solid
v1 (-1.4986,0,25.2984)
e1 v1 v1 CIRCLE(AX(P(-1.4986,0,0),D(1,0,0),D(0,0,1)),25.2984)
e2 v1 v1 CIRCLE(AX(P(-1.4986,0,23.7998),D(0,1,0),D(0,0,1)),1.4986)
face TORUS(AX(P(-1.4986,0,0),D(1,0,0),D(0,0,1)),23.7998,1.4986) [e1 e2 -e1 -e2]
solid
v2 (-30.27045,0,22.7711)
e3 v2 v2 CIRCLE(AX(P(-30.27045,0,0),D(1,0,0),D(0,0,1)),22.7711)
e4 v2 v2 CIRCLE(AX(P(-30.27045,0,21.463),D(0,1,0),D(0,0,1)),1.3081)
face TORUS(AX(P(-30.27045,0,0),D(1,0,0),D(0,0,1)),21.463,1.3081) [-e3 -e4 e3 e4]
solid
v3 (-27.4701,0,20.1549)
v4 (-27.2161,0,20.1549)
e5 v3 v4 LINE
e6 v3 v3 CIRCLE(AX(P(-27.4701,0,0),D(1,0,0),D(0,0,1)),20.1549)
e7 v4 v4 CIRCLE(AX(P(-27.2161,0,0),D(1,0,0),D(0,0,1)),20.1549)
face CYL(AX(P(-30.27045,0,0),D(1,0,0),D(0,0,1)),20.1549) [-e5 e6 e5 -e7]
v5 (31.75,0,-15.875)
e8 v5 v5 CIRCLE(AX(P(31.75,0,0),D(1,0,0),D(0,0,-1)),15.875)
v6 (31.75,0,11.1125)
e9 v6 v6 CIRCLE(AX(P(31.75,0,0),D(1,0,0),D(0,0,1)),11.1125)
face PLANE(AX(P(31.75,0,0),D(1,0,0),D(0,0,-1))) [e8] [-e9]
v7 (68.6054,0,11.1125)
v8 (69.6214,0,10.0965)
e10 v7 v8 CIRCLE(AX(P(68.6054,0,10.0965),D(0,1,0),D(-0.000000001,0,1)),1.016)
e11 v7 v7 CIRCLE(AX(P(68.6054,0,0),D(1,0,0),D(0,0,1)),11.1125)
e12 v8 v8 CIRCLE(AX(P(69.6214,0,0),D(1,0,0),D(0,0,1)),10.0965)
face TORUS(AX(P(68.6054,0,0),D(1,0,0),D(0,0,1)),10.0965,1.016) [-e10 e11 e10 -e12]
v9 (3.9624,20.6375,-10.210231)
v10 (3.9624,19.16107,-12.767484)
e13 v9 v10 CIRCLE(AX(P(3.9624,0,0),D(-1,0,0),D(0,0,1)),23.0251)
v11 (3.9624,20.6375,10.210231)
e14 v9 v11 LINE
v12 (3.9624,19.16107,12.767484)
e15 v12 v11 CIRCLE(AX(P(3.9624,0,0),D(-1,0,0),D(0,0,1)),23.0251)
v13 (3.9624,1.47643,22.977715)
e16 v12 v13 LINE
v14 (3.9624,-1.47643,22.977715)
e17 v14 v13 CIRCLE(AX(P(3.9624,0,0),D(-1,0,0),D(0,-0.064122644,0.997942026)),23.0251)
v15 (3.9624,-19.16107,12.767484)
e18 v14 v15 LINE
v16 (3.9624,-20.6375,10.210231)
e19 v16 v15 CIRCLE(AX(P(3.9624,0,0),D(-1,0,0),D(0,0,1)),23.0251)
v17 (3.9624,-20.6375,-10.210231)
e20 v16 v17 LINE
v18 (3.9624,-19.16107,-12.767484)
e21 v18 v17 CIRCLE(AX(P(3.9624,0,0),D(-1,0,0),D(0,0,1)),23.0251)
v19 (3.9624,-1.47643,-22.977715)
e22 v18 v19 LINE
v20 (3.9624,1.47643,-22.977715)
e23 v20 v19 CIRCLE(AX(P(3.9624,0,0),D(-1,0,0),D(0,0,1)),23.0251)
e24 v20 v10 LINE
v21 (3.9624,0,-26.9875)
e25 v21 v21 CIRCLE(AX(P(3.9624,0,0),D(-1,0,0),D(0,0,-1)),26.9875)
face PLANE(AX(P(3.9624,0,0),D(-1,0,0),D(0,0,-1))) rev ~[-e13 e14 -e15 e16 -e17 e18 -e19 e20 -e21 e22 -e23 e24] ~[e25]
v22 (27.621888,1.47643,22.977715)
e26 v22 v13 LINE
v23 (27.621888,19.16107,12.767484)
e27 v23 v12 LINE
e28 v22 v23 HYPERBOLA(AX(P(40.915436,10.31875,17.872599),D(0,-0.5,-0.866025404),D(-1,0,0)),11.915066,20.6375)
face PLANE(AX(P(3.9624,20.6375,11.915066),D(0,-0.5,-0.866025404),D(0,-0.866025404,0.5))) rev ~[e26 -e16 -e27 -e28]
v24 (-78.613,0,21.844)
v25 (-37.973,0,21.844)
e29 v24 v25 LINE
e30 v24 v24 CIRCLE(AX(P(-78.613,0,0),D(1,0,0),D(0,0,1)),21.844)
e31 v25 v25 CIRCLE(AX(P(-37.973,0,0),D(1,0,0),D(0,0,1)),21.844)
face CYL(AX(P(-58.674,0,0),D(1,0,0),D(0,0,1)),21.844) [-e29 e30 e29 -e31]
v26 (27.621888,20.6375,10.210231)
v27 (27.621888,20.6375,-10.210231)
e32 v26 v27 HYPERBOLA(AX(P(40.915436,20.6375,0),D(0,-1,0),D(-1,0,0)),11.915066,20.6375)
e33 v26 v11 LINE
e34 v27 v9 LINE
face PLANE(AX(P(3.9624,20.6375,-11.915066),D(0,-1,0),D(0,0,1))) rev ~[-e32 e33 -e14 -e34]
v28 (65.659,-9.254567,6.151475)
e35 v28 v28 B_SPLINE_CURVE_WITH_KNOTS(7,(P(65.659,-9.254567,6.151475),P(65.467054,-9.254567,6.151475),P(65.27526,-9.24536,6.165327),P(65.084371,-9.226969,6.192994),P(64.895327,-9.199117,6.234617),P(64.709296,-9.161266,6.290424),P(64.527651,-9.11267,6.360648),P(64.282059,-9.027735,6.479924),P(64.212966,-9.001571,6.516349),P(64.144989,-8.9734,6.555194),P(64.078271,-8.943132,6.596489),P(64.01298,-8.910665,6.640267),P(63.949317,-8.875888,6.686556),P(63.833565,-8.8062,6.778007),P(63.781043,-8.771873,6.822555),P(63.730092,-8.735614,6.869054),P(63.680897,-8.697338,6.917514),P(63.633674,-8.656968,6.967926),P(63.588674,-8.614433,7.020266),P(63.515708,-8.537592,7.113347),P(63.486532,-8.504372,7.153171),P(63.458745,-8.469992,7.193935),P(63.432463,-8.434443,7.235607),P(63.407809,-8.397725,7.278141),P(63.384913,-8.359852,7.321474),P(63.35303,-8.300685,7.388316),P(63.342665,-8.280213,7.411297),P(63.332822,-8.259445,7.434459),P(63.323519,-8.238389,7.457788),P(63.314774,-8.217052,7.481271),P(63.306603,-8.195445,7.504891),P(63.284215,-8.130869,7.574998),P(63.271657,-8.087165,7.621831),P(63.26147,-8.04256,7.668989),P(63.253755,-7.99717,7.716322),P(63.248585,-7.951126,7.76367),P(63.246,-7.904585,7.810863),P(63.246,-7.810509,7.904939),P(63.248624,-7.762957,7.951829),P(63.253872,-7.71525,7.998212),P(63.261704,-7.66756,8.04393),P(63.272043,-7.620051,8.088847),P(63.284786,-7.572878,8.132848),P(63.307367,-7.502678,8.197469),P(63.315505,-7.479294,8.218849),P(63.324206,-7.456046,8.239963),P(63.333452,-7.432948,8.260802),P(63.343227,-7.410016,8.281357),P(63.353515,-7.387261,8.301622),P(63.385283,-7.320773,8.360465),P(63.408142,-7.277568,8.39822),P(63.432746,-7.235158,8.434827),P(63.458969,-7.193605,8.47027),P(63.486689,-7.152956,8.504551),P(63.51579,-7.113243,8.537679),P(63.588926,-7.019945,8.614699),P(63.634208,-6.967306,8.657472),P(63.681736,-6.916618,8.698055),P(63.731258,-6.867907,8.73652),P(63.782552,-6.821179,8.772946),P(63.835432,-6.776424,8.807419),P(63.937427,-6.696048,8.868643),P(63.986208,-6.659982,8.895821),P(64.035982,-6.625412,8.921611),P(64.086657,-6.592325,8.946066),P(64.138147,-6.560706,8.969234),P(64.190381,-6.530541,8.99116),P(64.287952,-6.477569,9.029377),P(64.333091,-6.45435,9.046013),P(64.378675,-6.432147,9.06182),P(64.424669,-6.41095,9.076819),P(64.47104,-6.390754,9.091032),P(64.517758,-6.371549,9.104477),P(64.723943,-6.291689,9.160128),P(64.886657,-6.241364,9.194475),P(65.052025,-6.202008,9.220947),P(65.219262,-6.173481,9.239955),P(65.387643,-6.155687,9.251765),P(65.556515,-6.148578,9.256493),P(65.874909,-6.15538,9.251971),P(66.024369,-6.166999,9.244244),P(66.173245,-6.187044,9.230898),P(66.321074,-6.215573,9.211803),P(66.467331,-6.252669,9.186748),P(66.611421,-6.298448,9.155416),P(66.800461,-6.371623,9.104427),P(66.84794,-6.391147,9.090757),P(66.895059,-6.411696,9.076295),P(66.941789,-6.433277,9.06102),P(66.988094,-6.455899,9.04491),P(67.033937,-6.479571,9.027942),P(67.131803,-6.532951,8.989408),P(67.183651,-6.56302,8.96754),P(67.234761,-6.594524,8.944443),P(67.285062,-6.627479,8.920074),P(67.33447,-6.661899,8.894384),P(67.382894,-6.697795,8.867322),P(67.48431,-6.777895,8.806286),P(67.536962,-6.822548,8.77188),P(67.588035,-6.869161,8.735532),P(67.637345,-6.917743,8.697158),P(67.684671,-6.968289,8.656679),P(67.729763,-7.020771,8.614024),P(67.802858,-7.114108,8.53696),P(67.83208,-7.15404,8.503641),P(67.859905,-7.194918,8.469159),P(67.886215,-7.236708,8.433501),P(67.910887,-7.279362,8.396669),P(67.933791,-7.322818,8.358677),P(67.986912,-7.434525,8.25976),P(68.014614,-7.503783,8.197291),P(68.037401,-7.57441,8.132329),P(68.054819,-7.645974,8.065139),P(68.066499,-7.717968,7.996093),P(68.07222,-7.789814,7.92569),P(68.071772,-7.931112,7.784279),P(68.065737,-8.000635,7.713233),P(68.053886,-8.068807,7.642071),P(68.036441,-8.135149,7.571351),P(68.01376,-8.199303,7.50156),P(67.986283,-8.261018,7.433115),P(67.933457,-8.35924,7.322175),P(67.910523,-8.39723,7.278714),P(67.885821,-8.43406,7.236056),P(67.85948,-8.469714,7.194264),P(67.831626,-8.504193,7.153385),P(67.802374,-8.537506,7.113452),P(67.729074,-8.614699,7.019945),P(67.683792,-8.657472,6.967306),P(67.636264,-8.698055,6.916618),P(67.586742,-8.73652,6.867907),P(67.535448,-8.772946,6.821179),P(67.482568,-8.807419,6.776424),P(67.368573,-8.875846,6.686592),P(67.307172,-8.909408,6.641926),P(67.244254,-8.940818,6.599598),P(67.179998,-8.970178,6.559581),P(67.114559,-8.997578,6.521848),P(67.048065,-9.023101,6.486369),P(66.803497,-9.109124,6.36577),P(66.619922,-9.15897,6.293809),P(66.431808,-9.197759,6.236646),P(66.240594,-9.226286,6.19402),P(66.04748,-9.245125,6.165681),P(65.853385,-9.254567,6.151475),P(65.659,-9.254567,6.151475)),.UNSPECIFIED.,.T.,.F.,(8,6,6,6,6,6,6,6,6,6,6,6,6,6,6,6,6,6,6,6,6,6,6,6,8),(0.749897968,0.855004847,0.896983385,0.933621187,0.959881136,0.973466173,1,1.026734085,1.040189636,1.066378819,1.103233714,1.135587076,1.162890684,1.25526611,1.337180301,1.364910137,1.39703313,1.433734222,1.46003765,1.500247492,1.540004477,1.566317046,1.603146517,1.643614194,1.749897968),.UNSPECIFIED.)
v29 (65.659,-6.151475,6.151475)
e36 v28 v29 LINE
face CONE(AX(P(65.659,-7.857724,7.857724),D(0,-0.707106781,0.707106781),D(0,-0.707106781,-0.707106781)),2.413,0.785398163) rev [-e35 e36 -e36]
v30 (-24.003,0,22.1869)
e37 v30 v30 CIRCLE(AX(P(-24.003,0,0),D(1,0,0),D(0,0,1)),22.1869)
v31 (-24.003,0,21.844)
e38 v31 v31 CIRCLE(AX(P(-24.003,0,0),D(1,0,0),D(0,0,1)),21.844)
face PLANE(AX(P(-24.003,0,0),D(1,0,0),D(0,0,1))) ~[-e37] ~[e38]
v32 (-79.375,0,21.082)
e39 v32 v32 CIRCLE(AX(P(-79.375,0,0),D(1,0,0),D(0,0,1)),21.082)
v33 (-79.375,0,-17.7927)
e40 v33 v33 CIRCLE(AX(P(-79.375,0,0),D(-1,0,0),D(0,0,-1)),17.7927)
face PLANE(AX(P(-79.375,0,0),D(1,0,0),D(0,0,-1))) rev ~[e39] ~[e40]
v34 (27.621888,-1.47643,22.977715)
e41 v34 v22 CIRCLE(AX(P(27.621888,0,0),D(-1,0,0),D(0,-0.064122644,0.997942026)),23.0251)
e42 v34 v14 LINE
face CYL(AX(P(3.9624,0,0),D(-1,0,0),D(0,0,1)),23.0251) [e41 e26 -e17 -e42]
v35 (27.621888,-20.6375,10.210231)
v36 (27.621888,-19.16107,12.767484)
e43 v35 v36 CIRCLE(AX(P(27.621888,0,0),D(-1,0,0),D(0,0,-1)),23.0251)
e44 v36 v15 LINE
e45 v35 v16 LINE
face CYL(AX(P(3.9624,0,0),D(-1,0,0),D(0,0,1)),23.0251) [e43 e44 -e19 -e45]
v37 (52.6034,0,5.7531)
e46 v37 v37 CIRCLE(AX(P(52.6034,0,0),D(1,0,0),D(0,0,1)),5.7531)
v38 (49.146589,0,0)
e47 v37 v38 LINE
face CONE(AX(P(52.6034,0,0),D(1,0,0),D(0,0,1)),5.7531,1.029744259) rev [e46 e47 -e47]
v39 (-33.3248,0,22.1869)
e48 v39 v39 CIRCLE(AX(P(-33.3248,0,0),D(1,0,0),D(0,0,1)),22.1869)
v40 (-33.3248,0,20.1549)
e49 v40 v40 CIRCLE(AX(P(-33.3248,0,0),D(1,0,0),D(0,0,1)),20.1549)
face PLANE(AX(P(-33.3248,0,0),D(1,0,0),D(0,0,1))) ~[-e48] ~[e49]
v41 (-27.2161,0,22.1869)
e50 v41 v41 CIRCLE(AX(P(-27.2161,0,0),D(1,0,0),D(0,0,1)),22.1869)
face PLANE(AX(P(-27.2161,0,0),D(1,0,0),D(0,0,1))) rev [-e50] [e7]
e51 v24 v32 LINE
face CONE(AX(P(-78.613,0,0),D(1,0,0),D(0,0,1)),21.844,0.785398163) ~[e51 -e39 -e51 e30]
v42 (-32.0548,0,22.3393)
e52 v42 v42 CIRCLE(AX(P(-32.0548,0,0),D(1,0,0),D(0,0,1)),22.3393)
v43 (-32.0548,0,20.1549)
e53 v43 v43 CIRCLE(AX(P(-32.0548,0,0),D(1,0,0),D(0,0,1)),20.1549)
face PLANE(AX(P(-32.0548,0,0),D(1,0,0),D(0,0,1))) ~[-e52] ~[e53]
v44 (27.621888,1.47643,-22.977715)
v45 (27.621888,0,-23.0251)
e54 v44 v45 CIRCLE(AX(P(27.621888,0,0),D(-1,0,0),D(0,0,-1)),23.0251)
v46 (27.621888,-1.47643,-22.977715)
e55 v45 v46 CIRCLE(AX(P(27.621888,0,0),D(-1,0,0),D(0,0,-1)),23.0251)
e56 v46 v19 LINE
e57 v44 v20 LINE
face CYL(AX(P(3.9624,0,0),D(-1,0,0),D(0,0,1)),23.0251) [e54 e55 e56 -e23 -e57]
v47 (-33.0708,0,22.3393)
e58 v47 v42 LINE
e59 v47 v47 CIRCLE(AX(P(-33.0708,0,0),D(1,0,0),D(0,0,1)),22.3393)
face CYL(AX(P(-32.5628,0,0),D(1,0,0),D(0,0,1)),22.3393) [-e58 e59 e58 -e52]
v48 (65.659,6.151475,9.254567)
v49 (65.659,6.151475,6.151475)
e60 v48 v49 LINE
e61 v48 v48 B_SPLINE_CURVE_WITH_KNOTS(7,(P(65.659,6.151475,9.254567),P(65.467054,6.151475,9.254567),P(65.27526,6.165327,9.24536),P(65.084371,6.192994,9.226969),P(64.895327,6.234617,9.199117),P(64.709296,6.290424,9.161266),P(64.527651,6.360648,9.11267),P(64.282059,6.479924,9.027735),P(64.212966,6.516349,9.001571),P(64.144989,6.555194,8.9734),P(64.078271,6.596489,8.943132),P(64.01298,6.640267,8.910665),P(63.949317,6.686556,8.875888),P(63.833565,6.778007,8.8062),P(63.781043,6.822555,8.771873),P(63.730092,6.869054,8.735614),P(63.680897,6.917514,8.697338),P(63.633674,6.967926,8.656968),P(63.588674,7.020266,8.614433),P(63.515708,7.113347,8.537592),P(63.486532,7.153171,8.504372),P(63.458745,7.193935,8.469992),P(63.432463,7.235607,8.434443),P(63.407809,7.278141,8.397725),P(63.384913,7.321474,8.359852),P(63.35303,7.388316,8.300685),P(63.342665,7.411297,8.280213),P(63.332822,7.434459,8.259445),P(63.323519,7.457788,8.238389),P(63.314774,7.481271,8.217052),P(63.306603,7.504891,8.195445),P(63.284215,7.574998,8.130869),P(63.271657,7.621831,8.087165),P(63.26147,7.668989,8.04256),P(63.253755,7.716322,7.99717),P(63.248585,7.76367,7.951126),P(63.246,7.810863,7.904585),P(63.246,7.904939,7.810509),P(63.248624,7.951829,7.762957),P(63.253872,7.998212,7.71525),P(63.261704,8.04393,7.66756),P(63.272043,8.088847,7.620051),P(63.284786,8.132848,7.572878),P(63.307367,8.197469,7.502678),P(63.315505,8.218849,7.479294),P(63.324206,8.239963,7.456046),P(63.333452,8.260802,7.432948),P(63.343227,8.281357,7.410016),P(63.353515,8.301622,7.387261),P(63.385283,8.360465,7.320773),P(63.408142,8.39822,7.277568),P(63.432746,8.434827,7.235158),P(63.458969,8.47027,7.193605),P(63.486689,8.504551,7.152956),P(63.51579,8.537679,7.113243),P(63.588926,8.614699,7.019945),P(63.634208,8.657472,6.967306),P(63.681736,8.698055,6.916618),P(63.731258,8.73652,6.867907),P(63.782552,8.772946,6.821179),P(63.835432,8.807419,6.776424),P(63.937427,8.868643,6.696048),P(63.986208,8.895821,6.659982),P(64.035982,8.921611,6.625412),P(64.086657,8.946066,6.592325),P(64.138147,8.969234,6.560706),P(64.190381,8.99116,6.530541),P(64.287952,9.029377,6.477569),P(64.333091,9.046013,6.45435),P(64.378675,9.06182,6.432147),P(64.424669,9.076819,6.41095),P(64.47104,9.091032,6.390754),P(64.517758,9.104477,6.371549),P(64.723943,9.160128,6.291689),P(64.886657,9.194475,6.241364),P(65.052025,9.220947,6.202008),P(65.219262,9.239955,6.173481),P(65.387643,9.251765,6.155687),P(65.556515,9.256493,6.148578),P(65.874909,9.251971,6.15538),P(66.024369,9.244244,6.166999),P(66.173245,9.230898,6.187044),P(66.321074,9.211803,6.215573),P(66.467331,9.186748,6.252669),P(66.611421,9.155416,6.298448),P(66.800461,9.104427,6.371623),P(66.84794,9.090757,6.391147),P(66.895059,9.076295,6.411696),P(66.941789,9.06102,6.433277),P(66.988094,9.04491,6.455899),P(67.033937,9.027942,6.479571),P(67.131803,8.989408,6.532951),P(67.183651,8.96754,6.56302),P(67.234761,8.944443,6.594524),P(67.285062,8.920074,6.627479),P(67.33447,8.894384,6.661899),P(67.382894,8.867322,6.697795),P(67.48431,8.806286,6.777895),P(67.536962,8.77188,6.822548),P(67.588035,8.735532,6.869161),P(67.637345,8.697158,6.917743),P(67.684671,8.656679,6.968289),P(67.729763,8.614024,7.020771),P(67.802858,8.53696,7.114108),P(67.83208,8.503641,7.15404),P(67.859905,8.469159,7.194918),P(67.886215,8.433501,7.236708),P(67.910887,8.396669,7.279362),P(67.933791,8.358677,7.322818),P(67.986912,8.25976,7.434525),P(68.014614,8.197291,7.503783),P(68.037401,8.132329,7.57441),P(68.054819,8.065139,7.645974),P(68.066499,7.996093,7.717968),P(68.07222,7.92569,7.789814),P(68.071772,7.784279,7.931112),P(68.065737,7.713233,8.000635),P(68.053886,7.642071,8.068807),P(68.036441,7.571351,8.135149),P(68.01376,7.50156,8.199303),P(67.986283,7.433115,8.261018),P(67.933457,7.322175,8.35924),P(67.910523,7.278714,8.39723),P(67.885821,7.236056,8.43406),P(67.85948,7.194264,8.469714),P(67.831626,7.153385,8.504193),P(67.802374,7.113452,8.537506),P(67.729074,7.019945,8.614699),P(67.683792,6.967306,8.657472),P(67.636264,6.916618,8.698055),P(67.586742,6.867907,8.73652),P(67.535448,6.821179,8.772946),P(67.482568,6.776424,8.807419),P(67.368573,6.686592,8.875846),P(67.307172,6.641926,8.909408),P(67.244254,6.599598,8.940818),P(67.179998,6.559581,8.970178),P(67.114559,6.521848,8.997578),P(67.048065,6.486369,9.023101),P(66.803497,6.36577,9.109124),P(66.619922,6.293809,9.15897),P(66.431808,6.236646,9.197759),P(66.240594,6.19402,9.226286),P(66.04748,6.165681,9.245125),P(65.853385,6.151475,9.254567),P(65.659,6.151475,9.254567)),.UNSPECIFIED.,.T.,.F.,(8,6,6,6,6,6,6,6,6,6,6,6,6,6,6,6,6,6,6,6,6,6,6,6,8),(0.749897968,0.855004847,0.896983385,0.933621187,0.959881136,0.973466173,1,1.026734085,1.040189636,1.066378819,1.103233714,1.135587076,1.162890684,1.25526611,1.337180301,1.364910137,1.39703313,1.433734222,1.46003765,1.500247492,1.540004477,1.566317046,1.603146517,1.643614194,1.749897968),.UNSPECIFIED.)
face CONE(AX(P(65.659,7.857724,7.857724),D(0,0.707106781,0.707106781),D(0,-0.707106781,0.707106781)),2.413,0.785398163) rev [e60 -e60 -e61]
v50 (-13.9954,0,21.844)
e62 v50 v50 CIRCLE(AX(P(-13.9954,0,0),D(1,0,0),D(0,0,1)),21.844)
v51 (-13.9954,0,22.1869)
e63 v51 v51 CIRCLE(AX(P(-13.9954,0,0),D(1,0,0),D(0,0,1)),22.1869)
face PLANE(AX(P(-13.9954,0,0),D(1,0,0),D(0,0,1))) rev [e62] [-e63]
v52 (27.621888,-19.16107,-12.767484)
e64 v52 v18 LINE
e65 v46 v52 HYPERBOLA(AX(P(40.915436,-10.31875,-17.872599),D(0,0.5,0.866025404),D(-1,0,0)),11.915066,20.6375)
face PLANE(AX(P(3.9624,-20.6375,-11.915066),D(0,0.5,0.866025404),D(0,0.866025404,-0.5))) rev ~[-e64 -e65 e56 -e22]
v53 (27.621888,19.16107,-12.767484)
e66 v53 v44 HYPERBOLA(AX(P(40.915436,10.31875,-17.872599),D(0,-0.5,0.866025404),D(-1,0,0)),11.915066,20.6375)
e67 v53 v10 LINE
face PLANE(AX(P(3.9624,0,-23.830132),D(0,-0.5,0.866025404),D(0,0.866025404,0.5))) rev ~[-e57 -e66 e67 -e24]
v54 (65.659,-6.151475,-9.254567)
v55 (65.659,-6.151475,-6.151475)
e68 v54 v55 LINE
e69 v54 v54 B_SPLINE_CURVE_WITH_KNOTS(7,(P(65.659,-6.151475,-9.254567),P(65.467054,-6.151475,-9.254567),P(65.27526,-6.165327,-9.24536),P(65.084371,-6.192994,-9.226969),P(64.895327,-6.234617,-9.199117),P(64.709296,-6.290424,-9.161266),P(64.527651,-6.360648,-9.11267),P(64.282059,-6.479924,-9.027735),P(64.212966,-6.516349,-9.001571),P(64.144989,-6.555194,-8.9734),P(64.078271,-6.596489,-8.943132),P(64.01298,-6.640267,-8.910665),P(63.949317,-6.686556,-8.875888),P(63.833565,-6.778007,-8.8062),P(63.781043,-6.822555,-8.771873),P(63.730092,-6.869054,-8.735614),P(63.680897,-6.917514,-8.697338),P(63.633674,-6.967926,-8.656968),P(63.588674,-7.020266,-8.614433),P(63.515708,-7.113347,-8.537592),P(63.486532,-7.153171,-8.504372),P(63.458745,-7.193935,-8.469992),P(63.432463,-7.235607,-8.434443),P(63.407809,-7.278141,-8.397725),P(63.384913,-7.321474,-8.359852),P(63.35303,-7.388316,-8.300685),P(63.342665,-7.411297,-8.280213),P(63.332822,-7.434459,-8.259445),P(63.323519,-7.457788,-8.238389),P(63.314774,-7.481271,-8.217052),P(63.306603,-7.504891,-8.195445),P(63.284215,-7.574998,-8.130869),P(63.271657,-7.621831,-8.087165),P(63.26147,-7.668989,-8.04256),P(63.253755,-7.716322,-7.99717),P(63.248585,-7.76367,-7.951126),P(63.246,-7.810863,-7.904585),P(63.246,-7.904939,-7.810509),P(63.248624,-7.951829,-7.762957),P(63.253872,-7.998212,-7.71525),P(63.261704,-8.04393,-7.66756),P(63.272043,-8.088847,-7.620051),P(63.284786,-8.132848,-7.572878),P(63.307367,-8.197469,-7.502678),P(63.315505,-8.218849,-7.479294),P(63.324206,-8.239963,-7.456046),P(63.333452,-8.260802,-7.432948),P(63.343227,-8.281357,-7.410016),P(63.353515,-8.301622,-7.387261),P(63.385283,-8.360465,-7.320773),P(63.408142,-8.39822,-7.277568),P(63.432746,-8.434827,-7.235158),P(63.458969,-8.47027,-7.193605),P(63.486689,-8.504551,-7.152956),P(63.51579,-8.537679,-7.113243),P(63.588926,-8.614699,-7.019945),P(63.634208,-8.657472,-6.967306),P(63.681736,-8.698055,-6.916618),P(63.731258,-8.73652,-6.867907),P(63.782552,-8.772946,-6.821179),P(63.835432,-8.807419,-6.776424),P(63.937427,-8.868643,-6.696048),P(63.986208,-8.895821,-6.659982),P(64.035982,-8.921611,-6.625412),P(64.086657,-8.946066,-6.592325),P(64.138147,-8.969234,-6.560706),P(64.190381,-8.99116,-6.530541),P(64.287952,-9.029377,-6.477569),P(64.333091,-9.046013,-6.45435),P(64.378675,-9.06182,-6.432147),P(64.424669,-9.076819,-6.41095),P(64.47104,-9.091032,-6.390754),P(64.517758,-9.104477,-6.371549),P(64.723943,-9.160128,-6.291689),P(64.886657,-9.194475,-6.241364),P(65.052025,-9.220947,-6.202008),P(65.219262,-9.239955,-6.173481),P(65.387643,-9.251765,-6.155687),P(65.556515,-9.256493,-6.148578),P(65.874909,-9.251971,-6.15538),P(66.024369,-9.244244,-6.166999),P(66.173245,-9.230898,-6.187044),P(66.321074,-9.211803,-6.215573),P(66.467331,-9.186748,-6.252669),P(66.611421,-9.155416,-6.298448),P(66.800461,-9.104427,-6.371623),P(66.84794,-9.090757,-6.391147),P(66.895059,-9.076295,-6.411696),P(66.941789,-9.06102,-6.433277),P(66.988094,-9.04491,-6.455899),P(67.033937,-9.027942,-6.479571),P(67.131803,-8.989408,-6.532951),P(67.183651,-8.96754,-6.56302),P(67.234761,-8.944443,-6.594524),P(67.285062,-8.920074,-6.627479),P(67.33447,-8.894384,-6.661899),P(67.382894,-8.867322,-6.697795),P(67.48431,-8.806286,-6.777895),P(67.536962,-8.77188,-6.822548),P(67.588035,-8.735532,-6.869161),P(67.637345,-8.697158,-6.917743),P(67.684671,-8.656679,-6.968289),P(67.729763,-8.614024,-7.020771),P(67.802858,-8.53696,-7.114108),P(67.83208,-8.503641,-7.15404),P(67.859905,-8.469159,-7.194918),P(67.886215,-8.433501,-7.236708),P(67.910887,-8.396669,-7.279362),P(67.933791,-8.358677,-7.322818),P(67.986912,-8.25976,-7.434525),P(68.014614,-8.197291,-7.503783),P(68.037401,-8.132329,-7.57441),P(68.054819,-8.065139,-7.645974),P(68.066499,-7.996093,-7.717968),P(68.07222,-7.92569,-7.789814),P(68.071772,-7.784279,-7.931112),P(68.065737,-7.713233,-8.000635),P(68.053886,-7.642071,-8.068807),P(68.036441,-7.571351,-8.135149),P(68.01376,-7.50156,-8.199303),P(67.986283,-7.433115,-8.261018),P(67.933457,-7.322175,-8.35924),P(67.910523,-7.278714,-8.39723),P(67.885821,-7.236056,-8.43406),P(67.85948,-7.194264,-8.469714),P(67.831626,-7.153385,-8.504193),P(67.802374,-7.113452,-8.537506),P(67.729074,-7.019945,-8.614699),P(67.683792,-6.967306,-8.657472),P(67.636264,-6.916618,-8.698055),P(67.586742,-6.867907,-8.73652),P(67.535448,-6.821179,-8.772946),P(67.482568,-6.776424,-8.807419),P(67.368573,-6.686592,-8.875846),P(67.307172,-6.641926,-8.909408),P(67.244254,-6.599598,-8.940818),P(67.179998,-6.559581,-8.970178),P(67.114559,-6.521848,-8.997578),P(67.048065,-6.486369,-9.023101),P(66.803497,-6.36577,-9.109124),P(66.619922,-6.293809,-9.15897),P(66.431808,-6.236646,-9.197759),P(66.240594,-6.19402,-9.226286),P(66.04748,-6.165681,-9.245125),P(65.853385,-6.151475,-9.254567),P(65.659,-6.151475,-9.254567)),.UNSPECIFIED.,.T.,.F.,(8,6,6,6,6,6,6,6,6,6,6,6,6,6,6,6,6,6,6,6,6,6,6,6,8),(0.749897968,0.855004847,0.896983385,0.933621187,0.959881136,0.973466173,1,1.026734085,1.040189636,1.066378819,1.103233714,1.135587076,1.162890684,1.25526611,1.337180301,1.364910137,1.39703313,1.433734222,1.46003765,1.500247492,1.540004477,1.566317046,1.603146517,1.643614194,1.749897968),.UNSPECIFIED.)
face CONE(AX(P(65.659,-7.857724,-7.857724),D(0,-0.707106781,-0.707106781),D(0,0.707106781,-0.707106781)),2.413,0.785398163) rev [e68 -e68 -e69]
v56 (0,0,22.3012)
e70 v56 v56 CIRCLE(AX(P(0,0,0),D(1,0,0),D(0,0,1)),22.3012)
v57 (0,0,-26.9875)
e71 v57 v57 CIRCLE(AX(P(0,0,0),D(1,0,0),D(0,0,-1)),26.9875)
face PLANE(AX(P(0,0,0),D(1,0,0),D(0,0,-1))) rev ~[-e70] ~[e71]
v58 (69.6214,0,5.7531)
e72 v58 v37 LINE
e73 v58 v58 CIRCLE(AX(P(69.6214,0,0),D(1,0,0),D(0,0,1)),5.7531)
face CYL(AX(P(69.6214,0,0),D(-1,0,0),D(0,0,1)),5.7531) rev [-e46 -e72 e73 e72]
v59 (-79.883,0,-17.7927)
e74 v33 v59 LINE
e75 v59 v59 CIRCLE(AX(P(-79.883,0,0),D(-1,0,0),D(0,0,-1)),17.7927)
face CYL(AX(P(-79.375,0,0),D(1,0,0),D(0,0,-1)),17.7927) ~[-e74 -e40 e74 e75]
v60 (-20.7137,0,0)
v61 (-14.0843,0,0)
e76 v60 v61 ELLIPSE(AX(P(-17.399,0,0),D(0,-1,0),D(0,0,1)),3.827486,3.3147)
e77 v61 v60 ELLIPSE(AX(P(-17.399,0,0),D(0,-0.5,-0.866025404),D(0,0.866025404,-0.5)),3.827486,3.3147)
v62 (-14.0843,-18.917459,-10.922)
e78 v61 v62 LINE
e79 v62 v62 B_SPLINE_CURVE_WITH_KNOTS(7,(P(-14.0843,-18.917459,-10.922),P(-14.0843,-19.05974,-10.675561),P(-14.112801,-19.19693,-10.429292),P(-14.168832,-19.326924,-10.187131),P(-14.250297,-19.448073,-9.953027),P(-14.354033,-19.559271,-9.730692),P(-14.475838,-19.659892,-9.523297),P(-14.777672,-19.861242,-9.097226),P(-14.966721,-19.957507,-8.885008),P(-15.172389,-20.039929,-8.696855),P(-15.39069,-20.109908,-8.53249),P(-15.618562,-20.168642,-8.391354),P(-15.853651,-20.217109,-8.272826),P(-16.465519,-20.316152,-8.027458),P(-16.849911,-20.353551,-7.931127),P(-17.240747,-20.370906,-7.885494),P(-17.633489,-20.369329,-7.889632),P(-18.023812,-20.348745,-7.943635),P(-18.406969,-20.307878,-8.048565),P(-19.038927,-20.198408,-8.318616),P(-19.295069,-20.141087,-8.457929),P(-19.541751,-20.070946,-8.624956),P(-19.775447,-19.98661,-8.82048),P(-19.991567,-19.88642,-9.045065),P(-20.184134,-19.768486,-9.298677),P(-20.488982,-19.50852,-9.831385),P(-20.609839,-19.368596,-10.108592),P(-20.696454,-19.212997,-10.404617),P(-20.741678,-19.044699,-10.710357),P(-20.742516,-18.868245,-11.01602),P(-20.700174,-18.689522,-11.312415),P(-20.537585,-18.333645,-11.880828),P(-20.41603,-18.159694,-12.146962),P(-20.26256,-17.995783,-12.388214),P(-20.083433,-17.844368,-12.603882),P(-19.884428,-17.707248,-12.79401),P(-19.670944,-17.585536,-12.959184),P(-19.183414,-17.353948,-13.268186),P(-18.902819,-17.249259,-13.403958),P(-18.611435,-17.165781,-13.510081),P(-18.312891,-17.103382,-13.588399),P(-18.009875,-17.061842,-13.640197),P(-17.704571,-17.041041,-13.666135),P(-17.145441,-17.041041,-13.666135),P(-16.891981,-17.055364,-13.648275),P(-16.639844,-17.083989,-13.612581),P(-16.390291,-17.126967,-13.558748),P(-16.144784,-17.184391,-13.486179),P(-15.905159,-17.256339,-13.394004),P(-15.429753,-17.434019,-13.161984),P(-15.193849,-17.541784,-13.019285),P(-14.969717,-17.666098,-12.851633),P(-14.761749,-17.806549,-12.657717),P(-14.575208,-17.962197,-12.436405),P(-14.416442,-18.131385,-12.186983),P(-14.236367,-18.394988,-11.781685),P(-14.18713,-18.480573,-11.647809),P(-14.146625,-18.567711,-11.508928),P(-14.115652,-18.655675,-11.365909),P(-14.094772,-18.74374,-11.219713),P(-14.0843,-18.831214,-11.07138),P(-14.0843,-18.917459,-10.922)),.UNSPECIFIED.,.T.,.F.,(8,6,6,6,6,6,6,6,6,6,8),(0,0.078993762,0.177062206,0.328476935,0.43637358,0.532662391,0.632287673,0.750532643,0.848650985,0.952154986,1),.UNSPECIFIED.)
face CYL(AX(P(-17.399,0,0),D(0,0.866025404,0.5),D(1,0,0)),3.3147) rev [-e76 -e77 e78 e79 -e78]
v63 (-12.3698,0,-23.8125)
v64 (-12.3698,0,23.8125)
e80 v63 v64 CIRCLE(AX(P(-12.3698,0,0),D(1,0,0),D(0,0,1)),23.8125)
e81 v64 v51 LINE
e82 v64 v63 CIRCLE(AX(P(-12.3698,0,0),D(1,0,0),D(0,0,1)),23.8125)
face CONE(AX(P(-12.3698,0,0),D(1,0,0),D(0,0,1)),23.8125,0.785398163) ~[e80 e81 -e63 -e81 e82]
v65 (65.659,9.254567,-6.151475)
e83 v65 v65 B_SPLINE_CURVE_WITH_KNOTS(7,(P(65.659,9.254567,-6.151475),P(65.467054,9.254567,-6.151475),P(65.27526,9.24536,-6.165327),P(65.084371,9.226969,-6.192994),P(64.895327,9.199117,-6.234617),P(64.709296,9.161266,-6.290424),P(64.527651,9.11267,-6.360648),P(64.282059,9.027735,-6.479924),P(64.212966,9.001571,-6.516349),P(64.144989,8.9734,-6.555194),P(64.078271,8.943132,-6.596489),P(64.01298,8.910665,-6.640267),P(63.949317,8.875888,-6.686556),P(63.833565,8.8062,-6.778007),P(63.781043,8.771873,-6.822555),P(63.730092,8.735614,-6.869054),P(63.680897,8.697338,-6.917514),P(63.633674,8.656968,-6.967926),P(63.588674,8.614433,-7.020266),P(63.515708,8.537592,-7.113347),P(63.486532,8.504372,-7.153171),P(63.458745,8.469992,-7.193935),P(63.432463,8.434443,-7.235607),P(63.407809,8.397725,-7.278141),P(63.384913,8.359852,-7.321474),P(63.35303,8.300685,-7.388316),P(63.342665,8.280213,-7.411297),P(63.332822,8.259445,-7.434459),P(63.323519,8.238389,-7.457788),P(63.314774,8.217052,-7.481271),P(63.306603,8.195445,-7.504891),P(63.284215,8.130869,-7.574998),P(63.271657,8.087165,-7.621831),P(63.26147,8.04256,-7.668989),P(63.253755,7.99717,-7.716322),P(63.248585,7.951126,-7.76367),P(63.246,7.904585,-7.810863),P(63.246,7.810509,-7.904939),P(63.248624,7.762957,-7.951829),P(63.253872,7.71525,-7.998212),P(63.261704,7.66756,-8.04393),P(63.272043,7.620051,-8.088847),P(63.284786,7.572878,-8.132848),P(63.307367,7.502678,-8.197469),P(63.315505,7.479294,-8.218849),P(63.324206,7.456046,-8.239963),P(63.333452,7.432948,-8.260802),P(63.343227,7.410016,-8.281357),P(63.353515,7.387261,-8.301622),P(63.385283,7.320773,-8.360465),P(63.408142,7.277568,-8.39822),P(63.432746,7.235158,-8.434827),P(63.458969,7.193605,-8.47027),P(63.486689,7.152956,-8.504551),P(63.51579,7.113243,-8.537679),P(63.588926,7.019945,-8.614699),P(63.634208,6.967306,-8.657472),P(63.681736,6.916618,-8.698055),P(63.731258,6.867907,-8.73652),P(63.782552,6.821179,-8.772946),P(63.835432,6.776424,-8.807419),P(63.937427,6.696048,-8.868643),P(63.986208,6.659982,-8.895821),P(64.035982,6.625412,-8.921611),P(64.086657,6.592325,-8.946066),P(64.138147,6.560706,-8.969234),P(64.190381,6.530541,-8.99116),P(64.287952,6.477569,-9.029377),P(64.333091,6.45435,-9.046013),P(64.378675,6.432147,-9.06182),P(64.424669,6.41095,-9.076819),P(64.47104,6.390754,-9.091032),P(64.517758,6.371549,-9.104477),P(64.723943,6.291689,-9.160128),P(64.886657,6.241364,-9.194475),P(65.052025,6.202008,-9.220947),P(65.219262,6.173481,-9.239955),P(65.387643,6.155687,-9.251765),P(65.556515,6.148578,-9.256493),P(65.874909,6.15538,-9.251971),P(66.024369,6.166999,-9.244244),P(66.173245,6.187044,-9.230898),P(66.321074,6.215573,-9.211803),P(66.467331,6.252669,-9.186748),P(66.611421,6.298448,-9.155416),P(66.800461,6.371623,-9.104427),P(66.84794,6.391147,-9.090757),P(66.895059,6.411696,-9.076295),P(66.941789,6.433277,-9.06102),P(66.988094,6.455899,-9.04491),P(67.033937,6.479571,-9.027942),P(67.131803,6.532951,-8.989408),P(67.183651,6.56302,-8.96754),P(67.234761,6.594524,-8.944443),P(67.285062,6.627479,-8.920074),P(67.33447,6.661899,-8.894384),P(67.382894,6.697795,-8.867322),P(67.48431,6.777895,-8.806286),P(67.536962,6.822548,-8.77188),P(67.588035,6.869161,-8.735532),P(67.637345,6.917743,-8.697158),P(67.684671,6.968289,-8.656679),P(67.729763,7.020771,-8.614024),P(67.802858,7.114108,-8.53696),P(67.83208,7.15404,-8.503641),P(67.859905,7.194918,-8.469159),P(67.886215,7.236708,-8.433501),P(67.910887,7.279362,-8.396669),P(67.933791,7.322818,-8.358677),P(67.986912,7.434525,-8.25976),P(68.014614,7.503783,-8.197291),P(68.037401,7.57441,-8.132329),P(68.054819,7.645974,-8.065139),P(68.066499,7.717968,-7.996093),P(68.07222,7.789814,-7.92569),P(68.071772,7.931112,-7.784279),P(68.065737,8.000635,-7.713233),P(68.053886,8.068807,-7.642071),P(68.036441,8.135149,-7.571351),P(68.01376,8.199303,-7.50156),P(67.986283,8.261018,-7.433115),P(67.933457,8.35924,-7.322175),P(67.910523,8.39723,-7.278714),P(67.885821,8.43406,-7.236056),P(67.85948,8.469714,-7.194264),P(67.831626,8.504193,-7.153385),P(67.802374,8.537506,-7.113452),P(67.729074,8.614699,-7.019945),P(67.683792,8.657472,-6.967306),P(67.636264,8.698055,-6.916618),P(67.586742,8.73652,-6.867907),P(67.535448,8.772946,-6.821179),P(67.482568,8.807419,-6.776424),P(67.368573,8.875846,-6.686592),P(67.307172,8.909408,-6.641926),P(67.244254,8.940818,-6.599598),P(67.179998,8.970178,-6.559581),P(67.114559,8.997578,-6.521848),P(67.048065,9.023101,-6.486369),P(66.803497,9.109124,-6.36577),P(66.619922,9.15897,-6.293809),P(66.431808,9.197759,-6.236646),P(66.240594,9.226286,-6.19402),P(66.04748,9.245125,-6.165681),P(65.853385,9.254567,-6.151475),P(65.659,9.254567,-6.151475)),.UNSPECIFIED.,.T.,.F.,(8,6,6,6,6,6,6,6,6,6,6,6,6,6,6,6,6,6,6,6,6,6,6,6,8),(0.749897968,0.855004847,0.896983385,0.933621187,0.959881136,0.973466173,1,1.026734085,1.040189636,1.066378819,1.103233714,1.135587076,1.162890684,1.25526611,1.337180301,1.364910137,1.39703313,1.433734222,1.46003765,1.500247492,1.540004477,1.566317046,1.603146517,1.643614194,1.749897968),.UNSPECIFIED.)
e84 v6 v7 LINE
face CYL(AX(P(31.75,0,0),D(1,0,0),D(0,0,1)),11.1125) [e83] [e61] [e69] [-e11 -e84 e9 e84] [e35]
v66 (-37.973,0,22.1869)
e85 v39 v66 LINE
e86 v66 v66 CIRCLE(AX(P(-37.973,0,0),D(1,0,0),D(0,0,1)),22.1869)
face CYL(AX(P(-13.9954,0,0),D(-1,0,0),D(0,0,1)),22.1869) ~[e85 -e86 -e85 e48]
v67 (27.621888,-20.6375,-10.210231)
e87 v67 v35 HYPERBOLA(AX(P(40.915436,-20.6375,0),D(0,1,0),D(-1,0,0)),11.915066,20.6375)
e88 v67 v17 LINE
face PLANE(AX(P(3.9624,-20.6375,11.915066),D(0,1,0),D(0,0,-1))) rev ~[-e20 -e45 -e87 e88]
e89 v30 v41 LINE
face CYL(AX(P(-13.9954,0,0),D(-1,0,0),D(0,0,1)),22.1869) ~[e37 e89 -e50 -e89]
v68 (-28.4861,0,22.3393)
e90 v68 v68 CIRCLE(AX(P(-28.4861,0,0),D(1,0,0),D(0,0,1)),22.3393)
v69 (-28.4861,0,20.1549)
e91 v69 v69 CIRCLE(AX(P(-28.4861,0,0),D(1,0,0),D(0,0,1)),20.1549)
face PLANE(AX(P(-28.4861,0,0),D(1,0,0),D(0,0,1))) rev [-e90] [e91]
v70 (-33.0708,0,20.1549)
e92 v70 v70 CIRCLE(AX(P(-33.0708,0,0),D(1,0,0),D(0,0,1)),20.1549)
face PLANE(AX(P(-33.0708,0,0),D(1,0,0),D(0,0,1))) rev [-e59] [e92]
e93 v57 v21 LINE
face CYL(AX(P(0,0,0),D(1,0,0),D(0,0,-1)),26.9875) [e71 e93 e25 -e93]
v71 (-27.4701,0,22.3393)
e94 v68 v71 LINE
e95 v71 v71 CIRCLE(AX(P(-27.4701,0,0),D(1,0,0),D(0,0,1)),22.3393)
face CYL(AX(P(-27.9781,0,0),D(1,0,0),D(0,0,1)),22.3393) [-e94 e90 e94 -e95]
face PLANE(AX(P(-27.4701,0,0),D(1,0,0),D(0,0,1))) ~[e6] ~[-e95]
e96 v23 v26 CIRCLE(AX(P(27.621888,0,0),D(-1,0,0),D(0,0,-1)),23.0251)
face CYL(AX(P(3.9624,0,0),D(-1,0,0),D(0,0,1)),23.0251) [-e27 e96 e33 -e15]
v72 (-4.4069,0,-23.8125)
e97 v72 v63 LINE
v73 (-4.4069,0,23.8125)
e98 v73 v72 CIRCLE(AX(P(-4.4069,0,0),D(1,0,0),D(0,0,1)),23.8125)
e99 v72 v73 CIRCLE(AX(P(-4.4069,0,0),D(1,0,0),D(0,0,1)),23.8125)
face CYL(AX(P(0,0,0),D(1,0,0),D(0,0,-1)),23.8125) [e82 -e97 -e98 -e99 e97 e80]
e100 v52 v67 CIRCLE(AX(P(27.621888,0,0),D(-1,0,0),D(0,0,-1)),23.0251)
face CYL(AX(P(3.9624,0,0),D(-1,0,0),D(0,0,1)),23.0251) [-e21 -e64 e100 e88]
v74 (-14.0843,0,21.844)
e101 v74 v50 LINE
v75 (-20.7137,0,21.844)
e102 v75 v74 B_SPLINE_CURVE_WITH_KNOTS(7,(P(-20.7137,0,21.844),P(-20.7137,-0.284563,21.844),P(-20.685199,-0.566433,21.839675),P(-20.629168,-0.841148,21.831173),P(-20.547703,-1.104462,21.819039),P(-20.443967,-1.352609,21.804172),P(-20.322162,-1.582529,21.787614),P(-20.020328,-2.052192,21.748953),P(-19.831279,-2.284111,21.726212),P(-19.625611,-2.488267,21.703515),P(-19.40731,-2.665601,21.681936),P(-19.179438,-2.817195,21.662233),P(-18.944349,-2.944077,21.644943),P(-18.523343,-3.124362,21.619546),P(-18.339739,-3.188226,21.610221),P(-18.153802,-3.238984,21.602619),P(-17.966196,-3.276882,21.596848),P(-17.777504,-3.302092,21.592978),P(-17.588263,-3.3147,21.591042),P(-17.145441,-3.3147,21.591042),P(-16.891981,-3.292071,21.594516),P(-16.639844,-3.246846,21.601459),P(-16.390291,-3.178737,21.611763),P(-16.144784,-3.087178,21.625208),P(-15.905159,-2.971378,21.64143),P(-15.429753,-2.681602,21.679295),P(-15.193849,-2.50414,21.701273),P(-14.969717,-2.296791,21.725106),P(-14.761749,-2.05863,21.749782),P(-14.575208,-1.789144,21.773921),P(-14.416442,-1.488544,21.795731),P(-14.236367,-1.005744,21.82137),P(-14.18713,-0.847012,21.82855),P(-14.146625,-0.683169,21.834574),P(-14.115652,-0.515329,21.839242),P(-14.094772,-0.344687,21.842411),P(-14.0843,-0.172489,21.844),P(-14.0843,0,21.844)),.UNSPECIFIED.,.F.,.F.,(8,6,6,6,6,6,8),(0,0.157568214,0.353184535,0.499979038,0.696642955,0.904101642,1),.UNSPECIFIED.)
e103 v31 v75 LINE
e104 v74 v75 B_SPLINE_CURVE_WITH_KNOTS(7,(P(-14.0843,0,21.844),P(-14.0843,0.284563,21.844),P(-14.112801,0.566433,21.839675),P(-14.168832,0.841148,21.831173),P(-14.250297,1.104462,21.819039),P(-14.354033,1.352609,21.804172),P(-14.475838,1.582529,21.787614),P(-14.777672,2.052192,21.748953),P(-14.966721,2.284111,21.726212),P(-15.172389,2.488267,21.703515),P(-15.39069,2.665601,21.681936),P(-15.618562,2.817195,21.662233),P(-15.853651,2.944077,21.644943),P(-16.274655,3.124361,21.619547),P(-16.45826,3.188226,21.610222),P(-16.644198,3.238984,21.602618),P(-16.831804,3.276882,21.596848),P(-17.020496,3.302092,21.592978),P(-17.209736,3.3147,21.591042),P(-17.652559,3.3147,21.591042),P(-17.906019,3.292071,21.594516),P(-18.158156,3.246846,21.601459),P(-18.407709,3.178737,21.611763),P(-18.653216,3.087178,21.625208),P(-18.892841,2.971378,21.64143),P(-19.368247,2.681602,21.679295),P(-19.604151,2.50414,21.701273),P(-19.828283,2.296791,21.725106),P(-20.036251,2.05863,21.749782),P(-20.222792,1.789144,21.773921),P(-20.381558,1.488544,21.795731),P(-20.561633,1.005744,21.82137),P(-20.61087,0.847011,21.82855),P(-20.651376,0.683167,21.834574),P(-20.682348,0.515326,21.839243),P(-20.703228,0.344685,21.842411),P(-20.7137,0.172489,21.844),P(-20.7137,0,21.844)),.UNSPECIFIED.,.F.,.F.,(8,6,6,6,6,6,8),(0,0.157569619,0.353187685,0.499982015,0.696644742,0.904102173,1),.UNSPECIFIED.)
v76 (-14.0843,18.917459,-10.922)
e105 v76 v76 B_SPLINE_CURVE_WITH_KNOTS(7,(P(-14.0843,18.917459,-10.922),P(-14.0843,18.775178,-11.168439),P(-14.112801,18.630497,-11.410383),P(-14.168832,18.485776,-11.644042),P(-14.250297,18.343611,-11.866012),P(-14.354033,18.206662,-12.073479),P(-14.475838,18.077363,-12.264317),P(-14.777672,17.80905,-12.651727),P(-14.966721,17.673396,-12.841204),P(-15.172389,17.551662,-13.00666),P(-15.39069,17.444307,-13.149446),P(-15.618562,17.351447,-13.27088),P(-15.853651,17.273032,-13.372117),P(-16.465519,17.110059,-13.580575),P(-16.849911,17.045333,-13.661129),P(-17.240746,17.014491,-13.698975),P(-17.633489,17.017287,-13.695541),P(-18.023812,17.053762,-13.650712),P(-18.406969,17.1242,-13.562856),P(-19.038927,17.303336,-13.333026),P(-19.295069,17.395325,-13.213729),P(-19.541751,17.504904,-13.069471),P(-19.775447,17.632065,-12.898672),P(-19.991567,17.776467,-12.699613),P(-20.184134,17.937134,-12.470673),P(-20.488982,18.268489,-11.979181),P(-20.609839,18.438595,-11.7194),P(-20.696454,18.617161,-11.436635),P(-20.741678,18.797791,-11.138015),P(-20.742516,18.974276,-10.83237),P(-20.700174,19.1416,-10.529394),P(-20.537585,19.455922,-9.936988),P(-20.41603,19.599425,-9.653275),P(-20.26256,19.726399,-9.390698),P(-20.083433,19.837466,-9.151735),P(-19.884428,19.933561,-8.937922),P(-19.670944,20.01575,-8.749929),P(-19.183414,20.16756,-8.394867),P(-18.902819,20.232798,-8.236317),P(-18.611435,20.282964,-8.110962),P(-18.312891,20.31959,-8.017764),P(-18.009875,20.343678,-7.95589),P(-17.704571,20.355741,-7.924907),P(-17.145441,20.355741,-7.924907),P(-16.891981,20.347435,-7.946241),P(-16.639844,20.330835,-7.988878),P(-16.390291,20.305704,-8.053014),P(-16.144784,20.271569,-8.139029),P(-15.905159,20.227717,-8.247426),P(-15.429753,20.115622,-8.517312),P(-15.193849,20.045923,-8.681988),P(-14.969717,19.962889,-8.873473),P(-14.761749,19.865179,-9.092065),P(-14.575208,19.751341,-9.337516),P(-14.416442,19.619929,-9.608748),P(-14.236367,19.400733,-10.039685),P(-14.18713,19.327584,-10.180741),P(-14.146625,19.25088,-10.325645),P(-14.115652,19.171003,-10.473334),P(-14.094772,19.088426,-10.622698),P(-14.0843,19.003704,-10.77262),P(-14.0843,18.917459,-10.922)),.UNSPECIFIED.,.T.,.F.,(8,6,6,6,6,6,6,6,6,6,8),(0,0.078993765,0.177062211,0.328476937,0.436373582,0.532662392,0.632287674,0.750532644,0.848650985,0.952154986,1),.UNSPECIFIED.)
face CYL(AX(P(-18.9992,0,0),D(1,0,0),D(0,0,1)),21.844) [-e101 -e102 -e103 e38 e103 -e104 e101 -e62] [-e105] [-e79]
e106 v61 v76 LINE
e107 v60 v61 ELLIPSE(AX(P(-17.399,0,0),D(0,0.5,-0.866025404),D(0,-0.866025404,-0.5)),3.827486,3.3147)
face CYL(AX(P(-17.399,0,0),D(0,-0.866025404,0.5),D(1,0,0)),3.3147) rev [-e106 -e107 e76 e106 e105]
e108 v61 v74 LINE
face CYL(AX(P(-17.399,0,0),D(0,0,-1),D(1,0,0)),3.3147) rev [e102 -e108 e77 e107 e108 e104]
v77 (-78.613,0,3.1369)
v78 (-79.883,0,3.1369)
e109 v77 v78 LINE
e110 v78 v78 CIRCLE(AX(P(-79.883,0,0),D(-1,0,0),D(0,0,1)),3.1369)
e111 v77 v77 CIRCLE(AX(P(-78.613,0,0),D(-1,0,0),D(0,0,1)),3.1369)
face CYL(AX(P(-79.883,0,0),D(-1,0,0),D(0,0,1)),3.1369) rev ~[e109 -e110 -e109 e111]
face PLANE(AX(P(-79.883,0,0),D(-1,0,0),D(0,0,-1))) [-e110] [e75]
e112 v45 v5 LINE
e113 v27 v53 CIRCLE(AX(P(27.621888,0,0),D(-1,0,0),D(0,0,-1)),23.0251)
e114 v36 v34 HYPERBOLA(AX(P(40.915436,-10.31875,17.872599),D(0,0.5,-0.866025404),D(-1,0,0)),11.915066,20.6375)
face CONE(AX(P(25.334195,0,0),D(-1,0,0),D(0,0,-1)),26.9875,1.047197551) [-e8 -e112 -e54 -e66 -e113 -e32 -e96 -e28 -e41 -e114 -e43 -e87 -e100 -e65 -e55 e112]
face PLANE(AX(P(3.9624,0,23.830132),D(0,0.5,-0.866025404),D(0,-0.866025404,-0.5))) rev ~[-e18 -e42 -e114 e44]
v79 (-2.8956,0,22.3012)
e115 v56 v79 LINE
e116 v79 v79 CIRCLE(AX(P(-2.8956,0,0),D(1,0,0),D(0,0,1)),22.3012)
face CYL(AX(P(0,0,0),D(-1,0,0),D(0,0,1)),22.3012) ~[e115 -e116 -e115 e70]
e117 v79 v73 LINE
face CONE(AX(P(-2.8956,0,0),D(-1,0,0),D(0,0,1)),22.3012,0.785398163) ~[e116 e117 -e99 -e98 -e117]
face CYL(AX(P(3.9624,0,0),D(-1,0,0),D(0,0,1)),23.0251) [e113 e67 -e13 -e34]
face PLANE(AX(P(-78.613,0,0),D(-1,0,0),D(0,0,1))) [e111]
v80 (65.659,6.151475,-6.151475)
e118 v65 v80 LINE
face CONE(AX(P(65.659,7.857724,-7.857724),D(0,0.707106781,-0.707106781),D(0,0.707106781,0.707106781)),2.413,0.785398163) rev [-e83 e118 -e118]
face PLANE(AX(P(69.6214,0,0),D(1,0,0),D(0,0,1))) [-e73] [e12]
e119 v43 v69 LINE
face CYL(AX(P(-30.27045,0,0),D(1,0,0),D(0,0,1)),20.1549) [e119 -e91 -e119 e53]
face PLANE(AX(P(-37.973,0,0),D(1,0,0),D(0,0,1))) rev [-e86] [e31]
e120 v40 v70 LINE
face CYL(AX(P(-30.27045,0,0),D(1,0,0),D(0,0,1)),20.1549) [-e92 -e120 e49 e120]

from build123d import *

# Parameters (mm, degrees)
SKETCH1_R           = 26.9875
EXTRUDE1_DEPTH      = 31.75
EXTRUDE1_DEPTH_BACK = 79.375
CUT_EXTRUDE1_REACH  = 81.375
SKETCH2_R           = 26.9875
SKETCH2_R_2         = 23.8125
CUT_EXTRUDE3_REACH  = 31.362
CUT_EXTRUDE3_START  = -0.7874
SKETCH5_R           = 26.9875
CUT_EXTRUDE5_REACH  = 29.788
SKETCH7_R           = 26.9875
SKETCH7_R_2         = 23.0251
SKETCH12_W          = 6.1087
SKETCH12_H          = 2.032
SKETCH14_W          = 0.3429
SKETCH14_H          = 41.402
SKETCH14_H_2        = 10.0076
SKETCH15_R          = 1.4986
SKETCH16_W          = 2.1844
SKETCH16_H          = 1.016
SKETCH17_R          = 1.3081
CHAMFER1_SIZE       = 0.762
SKETCH23_R          = 3.3147
CUT_EXTRUDE7_DEPTH  = 27.9875
SKETCH26_R          = 3.1369
CUT_EXTRUDE8_DEPTH  = 0.762
SKETCH27_R          = 17.7927
EXTRUDE2_DEPTH      = 0.508
SKETCH28_R          = 3.1369
CUT_EXTRUDE9_DEPTH  = 0.508
CIRPATTERN2_COUNT   = 3
CIRPATTERN3_COUNT   = 4


with BuildPart() as part:
    # Sketch1 → Extrude1 (new body, two sides)
    with BuildSketch(Plane(origin=(0, 0, 0), x_dir=(0, 0, -1), z_dir=(1, 0, 0))) as extrude1_sk:
        Circle(SKETCH1_R)
    extrude(amount=EXTRUDE1_DEPTH)
    extrude(extrude1_sk.sketch, amount=-EXTRUDE1_DEPTH_BACK)

    # Sketch2 → Cut-Extrude1 (cut, up to next)
    with BuildSketch(Plane(origin=(0, 0, 0), x_dir=(0, 0, -1), z_dir=(1, 0, 0)), mode=Mode.PRIVATE) as cut_extrude1_sk1:
        Circle(SKETCH2_R)
        Circle(SKETCH2_R_2, mode=Mode.SUBTRACT)
    cut_extrude1_tool1 = extrude(cut_extrude1_sk1.sketch, amount=-CUT_EXTRUDE1_REACH, mode=Mode.PRIVATE) & part.part
    add(cut_extrude1_tool1.solids().sort_by_distance((0, 0, 26.224178))[0], mode=Mode.SUBTRACT)

    # Sketch3 → Cut-Revolve1 (revolve, cut)
    with BuildSketch(Plane.XY, mode=Mode.PRIVATE) as cut_revolve1_sk:
        Polygon((25.334195134, 26.9875), (31.75, 15.875), (31.75, 26.9875), align=None)
    revolve(cut_revolve1_sk.sketch.rotate(Axis((-8.14577342, 0, 0), (1, 0, 0)), 270), axis=Axis((-8.14577342, 0, 0), (1, 0, 0)), mode=Mode.SUBTRACT)  # turned: the seam where the file's is

    # Cut-Extrude3: up to this cone (the profile starts inside it)
    cut_extrude3_end = Plane(origin=(3.9624, 0, 0), z_dir=(-1, 0, 0)).offset(-36.953034523) * Cone(1.732e-06, 230.050244421, 132.819569544, align=(Align.CENTER, Align.CENTER, Align.MIN), mode=Mode.PRIVATE)
    # Sketch5 → Cut-Extrude3 (cut, up to the surface)
    with BuildSketch(Plane.ZY.offset(-3.175).offset(CUT_EXTRUDE3_START), mode=Mode.PRIVATE) as cut_extrude3_sk1:
        with Locations(Location((0, 0, 0), (0, 0, 180))):  # turned: the seam where the file's is
            Circle(SKETCH5_R)
        Polygon((-11.91506618, 20.6375), (11.91506618, 20.6375), (23.830132361, 0), (11.91506618, -20.6375), (-11.91506618, -20.6375), (-23.830132361, 0), align=None, mode=Mode.SUBTRACT)
    cut_extrude3_tool1 = extrude(cut_extrude3_sk1.sketch, amount=-CUT_EXTRUDE3_REACH, mode=Mode.PRIVATE) & cut_extrude3_end
    add(cut_extrude3_tool1.solids().sort_by_distance((3.9624, 0, 26.224178))[0], mode=Mode.SUBTRACT)

    # Cut-Extrude5: up to this cone (the profile starts inside it)
    cut_extrude5_end = Plane(origin=(3.9624, 0, 0), z_dir=(-1, 0, 0)).offset(-36.953034523) * Cone(1.732e-06, 227.32399645, 131.245569544, align=(Align.CENTER, Align.CENTER, Align.MIN), mode=Mode.PRIVATE)
    # Sketch7 → Cut-Extrude5 (cut, up to the surface)
    with BuildSketch(Plane.ZY.offset(-3.9624), mode=Mode.PRIVATE) as cut_extrude5_sk1:
        with Locations(Location((0, 0, 0), (0, 0, 180))):  # turned: the seam where the file's is
            Circle(SKETCH7_R)
        Circle(SKETCH7_R_2, mode=Mode.SUBTRACT)
    cut_extrude5_tool1 = extrude(cut_extrude5_sk1.sketch, amount=-CUT_EXTRUDE5_REACH, mode=Mode.PRIVATE) & cut_extrude5_end
    add(cut_extrude5_tool1.solids().sort_by_distance((3.9624, 0, 26.224178))[0], mode=Mode.SUBTRACT)

    # Sketch9 → Cut-Revolve3 (revolve, cut)
    with BuildSketch(Plane.XY, mode=Mode.PRIVATE) as cut_revolve3_sk:
        Polygon((0, 23.8125), (0, 22.3012), (-2.8956, 22.3012), (-4.4069, 23.8125), align=None)
    revolve(cut_revolve3_sk.sketch.rotate(Axis((-4.4205525, 0, 0), (1, 0, 0)), 90), axis=Axis((-4.4205525, 0, 0), (1, 0, 0)), mode=Mode.SUBTRACT)  # turned: the seam where the file's is

    # Sketch10 → Cut-Revolve4 (revolve, cut)
    with BuildSketch(Plane.XY, mode=Mode.PRIVATE) as cut_revolve4_sk:
        Polygon((-12.3698, 23.8125), (-13.9954, 22.1869), (-79.375, 22.1869), (-79.375, 23.8125), align=None)
    revolve(cut_revolve4_sk.sketch.rotate(Axis((-55.9469925, 0, 0), (1, 0, 0)), 90), axis=Axis((-55.9469925, 0, 0), (1, 0, 0)), mode=Mode.SUBTRACT)  # turned: the seam where the file's is

    # Sketch12 → Cut-Revolve6 (revolve, cut)
    with BuildSketch(Plane.XY, mode=Mode.PRIVATE) as cut_revolve6_sk:
        with Locations((-30.27045, 21.1709)):
            Rectangle(SKETCH12_W, SKETCH12_H)
    revolve(cut_revolve6_sk.sketch.rotate(Axis((-31.750635, 0, 0), (1, 0, 0)), 90), axis=Axis((-31.750635, 0, 0), (1, 0, 0)), mode=Mode.SUBTRACT)  # turned: the seam where the file's is

    # Sketch14 → Cut-Revolve8 (revolve, cut)
    with BuildSketch(Plane(origin=(0, 0, 0), x_dir=(0, -1, 0), z_dir=(0, 0, 1)), mode=Mode.PRIVATE) as cut_revolve8_sk:
        with Locations((22.01545, -58.674)):
            Rectangle(SKETCH14_W, SKETCH14_H)
        with Locations((22.01545, -18.9992)):
            Rectangle(SKETCH14_W, SKETCH14_H_2)
    revolve(cut_revolve8_sk.sketch.rotate(Axis((-55.86603, 0, 0), (1, 0, 0)), 270), axis=Axis((-55.86603, 0, 0), (1, 0, 0)), mode=Mode.SUBTRACT)  # turned: the seam where the file's is

    # Sketch16 → Revolve2 (revolve)
    with BuildSketch(Plane(origin=(0, 0, 0), x_dir=(0, -1, 0), z_dir=(0, 0, 1)), mode=Mode.PRIVATE) as revolve2_sk:
        with Locations((21.2471, -27.9781)):
            Rectangle(SKETCH16_W, SKETCH16_H)
        with Locations((21.2471, -32.5628)):
            Rectangle(SKETCH16_W, SKETCH16_H)
    revolve(revolve2_sk.sketch.rotate(Axis((-31.471235, 0, 0), (1, 0, 0)), 270), axis=Axis((-31.471235, 0, 0), (1, 0, 0)))  # turned: the seam where the file's is

    # S2D0001 → Revolve4 (revolve)
    with BuildSketch(Plane(origin=(0, 0, 0), x_dir=(0, -1, 0), z_dir=(0, 0, 1)), mode=Mode.PRIVATE) as revolve4_sk:
        with BuildLine():
            Line((0, 31.75), (-11.1125, 31.75))
            Line((-11.1125, 31.75), (-11.1125, 68.6054))
            ThreePointArc((-11.1125, 68.6054), (-10.81492049, 69.32382049), (-10.0965, 69.6214))
            Line((-10.0965, 69.6214), (0, 69.6214))
            Line((0, 69.6214), (0, 31.75))
        make_face()
    revolve(revolve4_sk.sketch.rotate(Axis((7.265766347, 0, 0), (1, 0, 0)), 90), axis=Axis((7.265766347, 0, 0), (1, 0, 0)))  # turned: the seam where the file's is

    # Sketch19 → Cut-Revolve9 (revolve, cut)
    with BuildSketch(Plane(origin=(36.322, -2.8067, 0), x_dir=(0, -1, 0), z_dir=(0, 0, 1)), mode=Mode.PRIVATE) as cut_revolve9_sk:
        Polygon((2.9464, 33.2994), (2.9464, 16.2814), (-2.8067, 12.824588773), (-2.8067, 33.2994), align=None)
    revolve(cut_revolve9_sk.sketch.rotate(Axis((17.699325537, 0, 0), (1, 0, 0)), 270), axis=Axis((17.699325537, 0, 0), (1, 0, 0)), mode=Mode.SUBTRACT)  # turned: the seam where the file's is

    # S2D0002 → Cut-Revolve10 (revolve, cut)
    with BuildSketch(Plane(origin=(32.3596, -3.928862053, -3.928862053), x_dir=(1, 0, 0), z_dir=(0, 0.707106781, -0.707106781)), mode=Mode.PRIVATE) as cut_revolve10_sk:
        Polygon((33.2994, 5.55625), (35.7124, 5.55625), (33.2994, 3.14325), align=None)
    cut_revolve10 = revolve(cut_revolve10_sk.sketch.rotate(Axis((65.659, -1.549290214, -1.549290214), (0, -0.707106781, -0.707106781)), 270), axis=Axis((65.659, -1.549290214, -1.549290214), (0, -0.707106781, -0.707106781)), mode=Mode.SUBTRACT)  # turned: the seam where the file's is

    # Chamfer1
    chamfer1_edges = [part.edges().sort_by_distance(p)[0] for p in [
        (-79.375, 0, -21.844),
    ]]
    chamfer(chamfer1_edges, length=CHAMFER1_SIZE)

    # Sketch23 → Cut-Extrude7 (cut, through all)
    with BuildSketch(Plane.XY):
        with Locations((-17.399, 0)):
            Circle(SKETCH23_R)
    cut_extrude7 = extrude(amount=CUT_EXTRUDE7_DEPTH, mode=Mode.SUBTRACT)

    # Sketch26 → Cut-Extrude8 (cut)
    with BuildSketch(Plane.ZY.offset(79.375)):
        Circle(SKETCH26_R)
    extrude(amount=-CUT_EXTRUDE8_DEPTH, mode=Mode.SUBTRACT)

    # Sketch27 → Extrude2 (add)
    with BuildSketch(Plane.ZY.offset(79.375)):
        with Locations(Location((0, 0, 0), (0, 0, 180))):  # turned: the seam where the file's is
            Circle(SKETCH27_R)
    extrude(amount=EXTRUDE2_DEPTH)

    # Sketch28 → Cut-Extrude9 (cut)
    with BuildSketch(Plane.ZY.offset(79.883)):
        Circle(SKETCH28_R)
    extrude(amount=-CUT_EXTRUDE9_DEPTH, mode=Mode.SUBTRACT)

    # CirPattern2: Cut-Extrude7 ×3 about axis
    cirpattern2_axis = Axis((7.265766347, 0, 0), (-1, 0, 0))
    for i in range(1, CIRPATTERN2_COUNT):
        add(cut_extrude7.rotate(cirpattern2_axis, i * 360 / CIRPATTERN2_COUNT), mode=Mode.SUBTRACT)

    # CirPattern3: Cut-Revolve10 ×4 about axis
    cirpattern3_axis = Axis((7.265766347, 0, 0), (-1, 0, 0))
    for i in range(1, CIRPATTERN3_COUNT):
        add(cut_revolve10.rotate(cirpattern3_axis, i * 360 / CIRPATTERN3_COUNT), mode=Mode.SUBTRACT)


with BuildPart() as body_2:
    # Sketch15 → Revolve1 (revolve)
    with BuildSketch(Plane(origin=(0, 0, 0), x_dir=(0, -1, 0), z_dir=(0, 0, 1)), mode=Mode.PRIVATE) as revolve1_sk:
        with Locations((23.7998, -1.4986)):
            Circle(SKETCH15_R)
    revolve(revolve1_sk.sketch.rotate(Axis((-3.09372, 0, 0), (1, 0, 0)), 270), axis=Axis((-3.09372, 0, 0), (1, 0, 0)))  # turned: the seam where the file's is


with BuildPart() as body_3:
    # Sketch17 → Revolve3 (revolve)
    with BuildSketch(Plane(origin=(0, 0, 0), x_dir=(0, -1, 0), z_dir=(0, 0, 1)), mode=Mode.PRIVATE) as revolve3_sk:
        with Locations((21.463, -30.27045)):
            Circle(SKETCH17_R)
    revolve(revolve3_sk.sketch.rotate(Axis((-31.750635, 0, 0), (1, 0, 0)), 270), axis=Axis((-31.750635, 0, 0), (1, 0, 0)))  # turned: the seam where the file's is


solid = Compound([part.part, body_2.part, body_3.part])
